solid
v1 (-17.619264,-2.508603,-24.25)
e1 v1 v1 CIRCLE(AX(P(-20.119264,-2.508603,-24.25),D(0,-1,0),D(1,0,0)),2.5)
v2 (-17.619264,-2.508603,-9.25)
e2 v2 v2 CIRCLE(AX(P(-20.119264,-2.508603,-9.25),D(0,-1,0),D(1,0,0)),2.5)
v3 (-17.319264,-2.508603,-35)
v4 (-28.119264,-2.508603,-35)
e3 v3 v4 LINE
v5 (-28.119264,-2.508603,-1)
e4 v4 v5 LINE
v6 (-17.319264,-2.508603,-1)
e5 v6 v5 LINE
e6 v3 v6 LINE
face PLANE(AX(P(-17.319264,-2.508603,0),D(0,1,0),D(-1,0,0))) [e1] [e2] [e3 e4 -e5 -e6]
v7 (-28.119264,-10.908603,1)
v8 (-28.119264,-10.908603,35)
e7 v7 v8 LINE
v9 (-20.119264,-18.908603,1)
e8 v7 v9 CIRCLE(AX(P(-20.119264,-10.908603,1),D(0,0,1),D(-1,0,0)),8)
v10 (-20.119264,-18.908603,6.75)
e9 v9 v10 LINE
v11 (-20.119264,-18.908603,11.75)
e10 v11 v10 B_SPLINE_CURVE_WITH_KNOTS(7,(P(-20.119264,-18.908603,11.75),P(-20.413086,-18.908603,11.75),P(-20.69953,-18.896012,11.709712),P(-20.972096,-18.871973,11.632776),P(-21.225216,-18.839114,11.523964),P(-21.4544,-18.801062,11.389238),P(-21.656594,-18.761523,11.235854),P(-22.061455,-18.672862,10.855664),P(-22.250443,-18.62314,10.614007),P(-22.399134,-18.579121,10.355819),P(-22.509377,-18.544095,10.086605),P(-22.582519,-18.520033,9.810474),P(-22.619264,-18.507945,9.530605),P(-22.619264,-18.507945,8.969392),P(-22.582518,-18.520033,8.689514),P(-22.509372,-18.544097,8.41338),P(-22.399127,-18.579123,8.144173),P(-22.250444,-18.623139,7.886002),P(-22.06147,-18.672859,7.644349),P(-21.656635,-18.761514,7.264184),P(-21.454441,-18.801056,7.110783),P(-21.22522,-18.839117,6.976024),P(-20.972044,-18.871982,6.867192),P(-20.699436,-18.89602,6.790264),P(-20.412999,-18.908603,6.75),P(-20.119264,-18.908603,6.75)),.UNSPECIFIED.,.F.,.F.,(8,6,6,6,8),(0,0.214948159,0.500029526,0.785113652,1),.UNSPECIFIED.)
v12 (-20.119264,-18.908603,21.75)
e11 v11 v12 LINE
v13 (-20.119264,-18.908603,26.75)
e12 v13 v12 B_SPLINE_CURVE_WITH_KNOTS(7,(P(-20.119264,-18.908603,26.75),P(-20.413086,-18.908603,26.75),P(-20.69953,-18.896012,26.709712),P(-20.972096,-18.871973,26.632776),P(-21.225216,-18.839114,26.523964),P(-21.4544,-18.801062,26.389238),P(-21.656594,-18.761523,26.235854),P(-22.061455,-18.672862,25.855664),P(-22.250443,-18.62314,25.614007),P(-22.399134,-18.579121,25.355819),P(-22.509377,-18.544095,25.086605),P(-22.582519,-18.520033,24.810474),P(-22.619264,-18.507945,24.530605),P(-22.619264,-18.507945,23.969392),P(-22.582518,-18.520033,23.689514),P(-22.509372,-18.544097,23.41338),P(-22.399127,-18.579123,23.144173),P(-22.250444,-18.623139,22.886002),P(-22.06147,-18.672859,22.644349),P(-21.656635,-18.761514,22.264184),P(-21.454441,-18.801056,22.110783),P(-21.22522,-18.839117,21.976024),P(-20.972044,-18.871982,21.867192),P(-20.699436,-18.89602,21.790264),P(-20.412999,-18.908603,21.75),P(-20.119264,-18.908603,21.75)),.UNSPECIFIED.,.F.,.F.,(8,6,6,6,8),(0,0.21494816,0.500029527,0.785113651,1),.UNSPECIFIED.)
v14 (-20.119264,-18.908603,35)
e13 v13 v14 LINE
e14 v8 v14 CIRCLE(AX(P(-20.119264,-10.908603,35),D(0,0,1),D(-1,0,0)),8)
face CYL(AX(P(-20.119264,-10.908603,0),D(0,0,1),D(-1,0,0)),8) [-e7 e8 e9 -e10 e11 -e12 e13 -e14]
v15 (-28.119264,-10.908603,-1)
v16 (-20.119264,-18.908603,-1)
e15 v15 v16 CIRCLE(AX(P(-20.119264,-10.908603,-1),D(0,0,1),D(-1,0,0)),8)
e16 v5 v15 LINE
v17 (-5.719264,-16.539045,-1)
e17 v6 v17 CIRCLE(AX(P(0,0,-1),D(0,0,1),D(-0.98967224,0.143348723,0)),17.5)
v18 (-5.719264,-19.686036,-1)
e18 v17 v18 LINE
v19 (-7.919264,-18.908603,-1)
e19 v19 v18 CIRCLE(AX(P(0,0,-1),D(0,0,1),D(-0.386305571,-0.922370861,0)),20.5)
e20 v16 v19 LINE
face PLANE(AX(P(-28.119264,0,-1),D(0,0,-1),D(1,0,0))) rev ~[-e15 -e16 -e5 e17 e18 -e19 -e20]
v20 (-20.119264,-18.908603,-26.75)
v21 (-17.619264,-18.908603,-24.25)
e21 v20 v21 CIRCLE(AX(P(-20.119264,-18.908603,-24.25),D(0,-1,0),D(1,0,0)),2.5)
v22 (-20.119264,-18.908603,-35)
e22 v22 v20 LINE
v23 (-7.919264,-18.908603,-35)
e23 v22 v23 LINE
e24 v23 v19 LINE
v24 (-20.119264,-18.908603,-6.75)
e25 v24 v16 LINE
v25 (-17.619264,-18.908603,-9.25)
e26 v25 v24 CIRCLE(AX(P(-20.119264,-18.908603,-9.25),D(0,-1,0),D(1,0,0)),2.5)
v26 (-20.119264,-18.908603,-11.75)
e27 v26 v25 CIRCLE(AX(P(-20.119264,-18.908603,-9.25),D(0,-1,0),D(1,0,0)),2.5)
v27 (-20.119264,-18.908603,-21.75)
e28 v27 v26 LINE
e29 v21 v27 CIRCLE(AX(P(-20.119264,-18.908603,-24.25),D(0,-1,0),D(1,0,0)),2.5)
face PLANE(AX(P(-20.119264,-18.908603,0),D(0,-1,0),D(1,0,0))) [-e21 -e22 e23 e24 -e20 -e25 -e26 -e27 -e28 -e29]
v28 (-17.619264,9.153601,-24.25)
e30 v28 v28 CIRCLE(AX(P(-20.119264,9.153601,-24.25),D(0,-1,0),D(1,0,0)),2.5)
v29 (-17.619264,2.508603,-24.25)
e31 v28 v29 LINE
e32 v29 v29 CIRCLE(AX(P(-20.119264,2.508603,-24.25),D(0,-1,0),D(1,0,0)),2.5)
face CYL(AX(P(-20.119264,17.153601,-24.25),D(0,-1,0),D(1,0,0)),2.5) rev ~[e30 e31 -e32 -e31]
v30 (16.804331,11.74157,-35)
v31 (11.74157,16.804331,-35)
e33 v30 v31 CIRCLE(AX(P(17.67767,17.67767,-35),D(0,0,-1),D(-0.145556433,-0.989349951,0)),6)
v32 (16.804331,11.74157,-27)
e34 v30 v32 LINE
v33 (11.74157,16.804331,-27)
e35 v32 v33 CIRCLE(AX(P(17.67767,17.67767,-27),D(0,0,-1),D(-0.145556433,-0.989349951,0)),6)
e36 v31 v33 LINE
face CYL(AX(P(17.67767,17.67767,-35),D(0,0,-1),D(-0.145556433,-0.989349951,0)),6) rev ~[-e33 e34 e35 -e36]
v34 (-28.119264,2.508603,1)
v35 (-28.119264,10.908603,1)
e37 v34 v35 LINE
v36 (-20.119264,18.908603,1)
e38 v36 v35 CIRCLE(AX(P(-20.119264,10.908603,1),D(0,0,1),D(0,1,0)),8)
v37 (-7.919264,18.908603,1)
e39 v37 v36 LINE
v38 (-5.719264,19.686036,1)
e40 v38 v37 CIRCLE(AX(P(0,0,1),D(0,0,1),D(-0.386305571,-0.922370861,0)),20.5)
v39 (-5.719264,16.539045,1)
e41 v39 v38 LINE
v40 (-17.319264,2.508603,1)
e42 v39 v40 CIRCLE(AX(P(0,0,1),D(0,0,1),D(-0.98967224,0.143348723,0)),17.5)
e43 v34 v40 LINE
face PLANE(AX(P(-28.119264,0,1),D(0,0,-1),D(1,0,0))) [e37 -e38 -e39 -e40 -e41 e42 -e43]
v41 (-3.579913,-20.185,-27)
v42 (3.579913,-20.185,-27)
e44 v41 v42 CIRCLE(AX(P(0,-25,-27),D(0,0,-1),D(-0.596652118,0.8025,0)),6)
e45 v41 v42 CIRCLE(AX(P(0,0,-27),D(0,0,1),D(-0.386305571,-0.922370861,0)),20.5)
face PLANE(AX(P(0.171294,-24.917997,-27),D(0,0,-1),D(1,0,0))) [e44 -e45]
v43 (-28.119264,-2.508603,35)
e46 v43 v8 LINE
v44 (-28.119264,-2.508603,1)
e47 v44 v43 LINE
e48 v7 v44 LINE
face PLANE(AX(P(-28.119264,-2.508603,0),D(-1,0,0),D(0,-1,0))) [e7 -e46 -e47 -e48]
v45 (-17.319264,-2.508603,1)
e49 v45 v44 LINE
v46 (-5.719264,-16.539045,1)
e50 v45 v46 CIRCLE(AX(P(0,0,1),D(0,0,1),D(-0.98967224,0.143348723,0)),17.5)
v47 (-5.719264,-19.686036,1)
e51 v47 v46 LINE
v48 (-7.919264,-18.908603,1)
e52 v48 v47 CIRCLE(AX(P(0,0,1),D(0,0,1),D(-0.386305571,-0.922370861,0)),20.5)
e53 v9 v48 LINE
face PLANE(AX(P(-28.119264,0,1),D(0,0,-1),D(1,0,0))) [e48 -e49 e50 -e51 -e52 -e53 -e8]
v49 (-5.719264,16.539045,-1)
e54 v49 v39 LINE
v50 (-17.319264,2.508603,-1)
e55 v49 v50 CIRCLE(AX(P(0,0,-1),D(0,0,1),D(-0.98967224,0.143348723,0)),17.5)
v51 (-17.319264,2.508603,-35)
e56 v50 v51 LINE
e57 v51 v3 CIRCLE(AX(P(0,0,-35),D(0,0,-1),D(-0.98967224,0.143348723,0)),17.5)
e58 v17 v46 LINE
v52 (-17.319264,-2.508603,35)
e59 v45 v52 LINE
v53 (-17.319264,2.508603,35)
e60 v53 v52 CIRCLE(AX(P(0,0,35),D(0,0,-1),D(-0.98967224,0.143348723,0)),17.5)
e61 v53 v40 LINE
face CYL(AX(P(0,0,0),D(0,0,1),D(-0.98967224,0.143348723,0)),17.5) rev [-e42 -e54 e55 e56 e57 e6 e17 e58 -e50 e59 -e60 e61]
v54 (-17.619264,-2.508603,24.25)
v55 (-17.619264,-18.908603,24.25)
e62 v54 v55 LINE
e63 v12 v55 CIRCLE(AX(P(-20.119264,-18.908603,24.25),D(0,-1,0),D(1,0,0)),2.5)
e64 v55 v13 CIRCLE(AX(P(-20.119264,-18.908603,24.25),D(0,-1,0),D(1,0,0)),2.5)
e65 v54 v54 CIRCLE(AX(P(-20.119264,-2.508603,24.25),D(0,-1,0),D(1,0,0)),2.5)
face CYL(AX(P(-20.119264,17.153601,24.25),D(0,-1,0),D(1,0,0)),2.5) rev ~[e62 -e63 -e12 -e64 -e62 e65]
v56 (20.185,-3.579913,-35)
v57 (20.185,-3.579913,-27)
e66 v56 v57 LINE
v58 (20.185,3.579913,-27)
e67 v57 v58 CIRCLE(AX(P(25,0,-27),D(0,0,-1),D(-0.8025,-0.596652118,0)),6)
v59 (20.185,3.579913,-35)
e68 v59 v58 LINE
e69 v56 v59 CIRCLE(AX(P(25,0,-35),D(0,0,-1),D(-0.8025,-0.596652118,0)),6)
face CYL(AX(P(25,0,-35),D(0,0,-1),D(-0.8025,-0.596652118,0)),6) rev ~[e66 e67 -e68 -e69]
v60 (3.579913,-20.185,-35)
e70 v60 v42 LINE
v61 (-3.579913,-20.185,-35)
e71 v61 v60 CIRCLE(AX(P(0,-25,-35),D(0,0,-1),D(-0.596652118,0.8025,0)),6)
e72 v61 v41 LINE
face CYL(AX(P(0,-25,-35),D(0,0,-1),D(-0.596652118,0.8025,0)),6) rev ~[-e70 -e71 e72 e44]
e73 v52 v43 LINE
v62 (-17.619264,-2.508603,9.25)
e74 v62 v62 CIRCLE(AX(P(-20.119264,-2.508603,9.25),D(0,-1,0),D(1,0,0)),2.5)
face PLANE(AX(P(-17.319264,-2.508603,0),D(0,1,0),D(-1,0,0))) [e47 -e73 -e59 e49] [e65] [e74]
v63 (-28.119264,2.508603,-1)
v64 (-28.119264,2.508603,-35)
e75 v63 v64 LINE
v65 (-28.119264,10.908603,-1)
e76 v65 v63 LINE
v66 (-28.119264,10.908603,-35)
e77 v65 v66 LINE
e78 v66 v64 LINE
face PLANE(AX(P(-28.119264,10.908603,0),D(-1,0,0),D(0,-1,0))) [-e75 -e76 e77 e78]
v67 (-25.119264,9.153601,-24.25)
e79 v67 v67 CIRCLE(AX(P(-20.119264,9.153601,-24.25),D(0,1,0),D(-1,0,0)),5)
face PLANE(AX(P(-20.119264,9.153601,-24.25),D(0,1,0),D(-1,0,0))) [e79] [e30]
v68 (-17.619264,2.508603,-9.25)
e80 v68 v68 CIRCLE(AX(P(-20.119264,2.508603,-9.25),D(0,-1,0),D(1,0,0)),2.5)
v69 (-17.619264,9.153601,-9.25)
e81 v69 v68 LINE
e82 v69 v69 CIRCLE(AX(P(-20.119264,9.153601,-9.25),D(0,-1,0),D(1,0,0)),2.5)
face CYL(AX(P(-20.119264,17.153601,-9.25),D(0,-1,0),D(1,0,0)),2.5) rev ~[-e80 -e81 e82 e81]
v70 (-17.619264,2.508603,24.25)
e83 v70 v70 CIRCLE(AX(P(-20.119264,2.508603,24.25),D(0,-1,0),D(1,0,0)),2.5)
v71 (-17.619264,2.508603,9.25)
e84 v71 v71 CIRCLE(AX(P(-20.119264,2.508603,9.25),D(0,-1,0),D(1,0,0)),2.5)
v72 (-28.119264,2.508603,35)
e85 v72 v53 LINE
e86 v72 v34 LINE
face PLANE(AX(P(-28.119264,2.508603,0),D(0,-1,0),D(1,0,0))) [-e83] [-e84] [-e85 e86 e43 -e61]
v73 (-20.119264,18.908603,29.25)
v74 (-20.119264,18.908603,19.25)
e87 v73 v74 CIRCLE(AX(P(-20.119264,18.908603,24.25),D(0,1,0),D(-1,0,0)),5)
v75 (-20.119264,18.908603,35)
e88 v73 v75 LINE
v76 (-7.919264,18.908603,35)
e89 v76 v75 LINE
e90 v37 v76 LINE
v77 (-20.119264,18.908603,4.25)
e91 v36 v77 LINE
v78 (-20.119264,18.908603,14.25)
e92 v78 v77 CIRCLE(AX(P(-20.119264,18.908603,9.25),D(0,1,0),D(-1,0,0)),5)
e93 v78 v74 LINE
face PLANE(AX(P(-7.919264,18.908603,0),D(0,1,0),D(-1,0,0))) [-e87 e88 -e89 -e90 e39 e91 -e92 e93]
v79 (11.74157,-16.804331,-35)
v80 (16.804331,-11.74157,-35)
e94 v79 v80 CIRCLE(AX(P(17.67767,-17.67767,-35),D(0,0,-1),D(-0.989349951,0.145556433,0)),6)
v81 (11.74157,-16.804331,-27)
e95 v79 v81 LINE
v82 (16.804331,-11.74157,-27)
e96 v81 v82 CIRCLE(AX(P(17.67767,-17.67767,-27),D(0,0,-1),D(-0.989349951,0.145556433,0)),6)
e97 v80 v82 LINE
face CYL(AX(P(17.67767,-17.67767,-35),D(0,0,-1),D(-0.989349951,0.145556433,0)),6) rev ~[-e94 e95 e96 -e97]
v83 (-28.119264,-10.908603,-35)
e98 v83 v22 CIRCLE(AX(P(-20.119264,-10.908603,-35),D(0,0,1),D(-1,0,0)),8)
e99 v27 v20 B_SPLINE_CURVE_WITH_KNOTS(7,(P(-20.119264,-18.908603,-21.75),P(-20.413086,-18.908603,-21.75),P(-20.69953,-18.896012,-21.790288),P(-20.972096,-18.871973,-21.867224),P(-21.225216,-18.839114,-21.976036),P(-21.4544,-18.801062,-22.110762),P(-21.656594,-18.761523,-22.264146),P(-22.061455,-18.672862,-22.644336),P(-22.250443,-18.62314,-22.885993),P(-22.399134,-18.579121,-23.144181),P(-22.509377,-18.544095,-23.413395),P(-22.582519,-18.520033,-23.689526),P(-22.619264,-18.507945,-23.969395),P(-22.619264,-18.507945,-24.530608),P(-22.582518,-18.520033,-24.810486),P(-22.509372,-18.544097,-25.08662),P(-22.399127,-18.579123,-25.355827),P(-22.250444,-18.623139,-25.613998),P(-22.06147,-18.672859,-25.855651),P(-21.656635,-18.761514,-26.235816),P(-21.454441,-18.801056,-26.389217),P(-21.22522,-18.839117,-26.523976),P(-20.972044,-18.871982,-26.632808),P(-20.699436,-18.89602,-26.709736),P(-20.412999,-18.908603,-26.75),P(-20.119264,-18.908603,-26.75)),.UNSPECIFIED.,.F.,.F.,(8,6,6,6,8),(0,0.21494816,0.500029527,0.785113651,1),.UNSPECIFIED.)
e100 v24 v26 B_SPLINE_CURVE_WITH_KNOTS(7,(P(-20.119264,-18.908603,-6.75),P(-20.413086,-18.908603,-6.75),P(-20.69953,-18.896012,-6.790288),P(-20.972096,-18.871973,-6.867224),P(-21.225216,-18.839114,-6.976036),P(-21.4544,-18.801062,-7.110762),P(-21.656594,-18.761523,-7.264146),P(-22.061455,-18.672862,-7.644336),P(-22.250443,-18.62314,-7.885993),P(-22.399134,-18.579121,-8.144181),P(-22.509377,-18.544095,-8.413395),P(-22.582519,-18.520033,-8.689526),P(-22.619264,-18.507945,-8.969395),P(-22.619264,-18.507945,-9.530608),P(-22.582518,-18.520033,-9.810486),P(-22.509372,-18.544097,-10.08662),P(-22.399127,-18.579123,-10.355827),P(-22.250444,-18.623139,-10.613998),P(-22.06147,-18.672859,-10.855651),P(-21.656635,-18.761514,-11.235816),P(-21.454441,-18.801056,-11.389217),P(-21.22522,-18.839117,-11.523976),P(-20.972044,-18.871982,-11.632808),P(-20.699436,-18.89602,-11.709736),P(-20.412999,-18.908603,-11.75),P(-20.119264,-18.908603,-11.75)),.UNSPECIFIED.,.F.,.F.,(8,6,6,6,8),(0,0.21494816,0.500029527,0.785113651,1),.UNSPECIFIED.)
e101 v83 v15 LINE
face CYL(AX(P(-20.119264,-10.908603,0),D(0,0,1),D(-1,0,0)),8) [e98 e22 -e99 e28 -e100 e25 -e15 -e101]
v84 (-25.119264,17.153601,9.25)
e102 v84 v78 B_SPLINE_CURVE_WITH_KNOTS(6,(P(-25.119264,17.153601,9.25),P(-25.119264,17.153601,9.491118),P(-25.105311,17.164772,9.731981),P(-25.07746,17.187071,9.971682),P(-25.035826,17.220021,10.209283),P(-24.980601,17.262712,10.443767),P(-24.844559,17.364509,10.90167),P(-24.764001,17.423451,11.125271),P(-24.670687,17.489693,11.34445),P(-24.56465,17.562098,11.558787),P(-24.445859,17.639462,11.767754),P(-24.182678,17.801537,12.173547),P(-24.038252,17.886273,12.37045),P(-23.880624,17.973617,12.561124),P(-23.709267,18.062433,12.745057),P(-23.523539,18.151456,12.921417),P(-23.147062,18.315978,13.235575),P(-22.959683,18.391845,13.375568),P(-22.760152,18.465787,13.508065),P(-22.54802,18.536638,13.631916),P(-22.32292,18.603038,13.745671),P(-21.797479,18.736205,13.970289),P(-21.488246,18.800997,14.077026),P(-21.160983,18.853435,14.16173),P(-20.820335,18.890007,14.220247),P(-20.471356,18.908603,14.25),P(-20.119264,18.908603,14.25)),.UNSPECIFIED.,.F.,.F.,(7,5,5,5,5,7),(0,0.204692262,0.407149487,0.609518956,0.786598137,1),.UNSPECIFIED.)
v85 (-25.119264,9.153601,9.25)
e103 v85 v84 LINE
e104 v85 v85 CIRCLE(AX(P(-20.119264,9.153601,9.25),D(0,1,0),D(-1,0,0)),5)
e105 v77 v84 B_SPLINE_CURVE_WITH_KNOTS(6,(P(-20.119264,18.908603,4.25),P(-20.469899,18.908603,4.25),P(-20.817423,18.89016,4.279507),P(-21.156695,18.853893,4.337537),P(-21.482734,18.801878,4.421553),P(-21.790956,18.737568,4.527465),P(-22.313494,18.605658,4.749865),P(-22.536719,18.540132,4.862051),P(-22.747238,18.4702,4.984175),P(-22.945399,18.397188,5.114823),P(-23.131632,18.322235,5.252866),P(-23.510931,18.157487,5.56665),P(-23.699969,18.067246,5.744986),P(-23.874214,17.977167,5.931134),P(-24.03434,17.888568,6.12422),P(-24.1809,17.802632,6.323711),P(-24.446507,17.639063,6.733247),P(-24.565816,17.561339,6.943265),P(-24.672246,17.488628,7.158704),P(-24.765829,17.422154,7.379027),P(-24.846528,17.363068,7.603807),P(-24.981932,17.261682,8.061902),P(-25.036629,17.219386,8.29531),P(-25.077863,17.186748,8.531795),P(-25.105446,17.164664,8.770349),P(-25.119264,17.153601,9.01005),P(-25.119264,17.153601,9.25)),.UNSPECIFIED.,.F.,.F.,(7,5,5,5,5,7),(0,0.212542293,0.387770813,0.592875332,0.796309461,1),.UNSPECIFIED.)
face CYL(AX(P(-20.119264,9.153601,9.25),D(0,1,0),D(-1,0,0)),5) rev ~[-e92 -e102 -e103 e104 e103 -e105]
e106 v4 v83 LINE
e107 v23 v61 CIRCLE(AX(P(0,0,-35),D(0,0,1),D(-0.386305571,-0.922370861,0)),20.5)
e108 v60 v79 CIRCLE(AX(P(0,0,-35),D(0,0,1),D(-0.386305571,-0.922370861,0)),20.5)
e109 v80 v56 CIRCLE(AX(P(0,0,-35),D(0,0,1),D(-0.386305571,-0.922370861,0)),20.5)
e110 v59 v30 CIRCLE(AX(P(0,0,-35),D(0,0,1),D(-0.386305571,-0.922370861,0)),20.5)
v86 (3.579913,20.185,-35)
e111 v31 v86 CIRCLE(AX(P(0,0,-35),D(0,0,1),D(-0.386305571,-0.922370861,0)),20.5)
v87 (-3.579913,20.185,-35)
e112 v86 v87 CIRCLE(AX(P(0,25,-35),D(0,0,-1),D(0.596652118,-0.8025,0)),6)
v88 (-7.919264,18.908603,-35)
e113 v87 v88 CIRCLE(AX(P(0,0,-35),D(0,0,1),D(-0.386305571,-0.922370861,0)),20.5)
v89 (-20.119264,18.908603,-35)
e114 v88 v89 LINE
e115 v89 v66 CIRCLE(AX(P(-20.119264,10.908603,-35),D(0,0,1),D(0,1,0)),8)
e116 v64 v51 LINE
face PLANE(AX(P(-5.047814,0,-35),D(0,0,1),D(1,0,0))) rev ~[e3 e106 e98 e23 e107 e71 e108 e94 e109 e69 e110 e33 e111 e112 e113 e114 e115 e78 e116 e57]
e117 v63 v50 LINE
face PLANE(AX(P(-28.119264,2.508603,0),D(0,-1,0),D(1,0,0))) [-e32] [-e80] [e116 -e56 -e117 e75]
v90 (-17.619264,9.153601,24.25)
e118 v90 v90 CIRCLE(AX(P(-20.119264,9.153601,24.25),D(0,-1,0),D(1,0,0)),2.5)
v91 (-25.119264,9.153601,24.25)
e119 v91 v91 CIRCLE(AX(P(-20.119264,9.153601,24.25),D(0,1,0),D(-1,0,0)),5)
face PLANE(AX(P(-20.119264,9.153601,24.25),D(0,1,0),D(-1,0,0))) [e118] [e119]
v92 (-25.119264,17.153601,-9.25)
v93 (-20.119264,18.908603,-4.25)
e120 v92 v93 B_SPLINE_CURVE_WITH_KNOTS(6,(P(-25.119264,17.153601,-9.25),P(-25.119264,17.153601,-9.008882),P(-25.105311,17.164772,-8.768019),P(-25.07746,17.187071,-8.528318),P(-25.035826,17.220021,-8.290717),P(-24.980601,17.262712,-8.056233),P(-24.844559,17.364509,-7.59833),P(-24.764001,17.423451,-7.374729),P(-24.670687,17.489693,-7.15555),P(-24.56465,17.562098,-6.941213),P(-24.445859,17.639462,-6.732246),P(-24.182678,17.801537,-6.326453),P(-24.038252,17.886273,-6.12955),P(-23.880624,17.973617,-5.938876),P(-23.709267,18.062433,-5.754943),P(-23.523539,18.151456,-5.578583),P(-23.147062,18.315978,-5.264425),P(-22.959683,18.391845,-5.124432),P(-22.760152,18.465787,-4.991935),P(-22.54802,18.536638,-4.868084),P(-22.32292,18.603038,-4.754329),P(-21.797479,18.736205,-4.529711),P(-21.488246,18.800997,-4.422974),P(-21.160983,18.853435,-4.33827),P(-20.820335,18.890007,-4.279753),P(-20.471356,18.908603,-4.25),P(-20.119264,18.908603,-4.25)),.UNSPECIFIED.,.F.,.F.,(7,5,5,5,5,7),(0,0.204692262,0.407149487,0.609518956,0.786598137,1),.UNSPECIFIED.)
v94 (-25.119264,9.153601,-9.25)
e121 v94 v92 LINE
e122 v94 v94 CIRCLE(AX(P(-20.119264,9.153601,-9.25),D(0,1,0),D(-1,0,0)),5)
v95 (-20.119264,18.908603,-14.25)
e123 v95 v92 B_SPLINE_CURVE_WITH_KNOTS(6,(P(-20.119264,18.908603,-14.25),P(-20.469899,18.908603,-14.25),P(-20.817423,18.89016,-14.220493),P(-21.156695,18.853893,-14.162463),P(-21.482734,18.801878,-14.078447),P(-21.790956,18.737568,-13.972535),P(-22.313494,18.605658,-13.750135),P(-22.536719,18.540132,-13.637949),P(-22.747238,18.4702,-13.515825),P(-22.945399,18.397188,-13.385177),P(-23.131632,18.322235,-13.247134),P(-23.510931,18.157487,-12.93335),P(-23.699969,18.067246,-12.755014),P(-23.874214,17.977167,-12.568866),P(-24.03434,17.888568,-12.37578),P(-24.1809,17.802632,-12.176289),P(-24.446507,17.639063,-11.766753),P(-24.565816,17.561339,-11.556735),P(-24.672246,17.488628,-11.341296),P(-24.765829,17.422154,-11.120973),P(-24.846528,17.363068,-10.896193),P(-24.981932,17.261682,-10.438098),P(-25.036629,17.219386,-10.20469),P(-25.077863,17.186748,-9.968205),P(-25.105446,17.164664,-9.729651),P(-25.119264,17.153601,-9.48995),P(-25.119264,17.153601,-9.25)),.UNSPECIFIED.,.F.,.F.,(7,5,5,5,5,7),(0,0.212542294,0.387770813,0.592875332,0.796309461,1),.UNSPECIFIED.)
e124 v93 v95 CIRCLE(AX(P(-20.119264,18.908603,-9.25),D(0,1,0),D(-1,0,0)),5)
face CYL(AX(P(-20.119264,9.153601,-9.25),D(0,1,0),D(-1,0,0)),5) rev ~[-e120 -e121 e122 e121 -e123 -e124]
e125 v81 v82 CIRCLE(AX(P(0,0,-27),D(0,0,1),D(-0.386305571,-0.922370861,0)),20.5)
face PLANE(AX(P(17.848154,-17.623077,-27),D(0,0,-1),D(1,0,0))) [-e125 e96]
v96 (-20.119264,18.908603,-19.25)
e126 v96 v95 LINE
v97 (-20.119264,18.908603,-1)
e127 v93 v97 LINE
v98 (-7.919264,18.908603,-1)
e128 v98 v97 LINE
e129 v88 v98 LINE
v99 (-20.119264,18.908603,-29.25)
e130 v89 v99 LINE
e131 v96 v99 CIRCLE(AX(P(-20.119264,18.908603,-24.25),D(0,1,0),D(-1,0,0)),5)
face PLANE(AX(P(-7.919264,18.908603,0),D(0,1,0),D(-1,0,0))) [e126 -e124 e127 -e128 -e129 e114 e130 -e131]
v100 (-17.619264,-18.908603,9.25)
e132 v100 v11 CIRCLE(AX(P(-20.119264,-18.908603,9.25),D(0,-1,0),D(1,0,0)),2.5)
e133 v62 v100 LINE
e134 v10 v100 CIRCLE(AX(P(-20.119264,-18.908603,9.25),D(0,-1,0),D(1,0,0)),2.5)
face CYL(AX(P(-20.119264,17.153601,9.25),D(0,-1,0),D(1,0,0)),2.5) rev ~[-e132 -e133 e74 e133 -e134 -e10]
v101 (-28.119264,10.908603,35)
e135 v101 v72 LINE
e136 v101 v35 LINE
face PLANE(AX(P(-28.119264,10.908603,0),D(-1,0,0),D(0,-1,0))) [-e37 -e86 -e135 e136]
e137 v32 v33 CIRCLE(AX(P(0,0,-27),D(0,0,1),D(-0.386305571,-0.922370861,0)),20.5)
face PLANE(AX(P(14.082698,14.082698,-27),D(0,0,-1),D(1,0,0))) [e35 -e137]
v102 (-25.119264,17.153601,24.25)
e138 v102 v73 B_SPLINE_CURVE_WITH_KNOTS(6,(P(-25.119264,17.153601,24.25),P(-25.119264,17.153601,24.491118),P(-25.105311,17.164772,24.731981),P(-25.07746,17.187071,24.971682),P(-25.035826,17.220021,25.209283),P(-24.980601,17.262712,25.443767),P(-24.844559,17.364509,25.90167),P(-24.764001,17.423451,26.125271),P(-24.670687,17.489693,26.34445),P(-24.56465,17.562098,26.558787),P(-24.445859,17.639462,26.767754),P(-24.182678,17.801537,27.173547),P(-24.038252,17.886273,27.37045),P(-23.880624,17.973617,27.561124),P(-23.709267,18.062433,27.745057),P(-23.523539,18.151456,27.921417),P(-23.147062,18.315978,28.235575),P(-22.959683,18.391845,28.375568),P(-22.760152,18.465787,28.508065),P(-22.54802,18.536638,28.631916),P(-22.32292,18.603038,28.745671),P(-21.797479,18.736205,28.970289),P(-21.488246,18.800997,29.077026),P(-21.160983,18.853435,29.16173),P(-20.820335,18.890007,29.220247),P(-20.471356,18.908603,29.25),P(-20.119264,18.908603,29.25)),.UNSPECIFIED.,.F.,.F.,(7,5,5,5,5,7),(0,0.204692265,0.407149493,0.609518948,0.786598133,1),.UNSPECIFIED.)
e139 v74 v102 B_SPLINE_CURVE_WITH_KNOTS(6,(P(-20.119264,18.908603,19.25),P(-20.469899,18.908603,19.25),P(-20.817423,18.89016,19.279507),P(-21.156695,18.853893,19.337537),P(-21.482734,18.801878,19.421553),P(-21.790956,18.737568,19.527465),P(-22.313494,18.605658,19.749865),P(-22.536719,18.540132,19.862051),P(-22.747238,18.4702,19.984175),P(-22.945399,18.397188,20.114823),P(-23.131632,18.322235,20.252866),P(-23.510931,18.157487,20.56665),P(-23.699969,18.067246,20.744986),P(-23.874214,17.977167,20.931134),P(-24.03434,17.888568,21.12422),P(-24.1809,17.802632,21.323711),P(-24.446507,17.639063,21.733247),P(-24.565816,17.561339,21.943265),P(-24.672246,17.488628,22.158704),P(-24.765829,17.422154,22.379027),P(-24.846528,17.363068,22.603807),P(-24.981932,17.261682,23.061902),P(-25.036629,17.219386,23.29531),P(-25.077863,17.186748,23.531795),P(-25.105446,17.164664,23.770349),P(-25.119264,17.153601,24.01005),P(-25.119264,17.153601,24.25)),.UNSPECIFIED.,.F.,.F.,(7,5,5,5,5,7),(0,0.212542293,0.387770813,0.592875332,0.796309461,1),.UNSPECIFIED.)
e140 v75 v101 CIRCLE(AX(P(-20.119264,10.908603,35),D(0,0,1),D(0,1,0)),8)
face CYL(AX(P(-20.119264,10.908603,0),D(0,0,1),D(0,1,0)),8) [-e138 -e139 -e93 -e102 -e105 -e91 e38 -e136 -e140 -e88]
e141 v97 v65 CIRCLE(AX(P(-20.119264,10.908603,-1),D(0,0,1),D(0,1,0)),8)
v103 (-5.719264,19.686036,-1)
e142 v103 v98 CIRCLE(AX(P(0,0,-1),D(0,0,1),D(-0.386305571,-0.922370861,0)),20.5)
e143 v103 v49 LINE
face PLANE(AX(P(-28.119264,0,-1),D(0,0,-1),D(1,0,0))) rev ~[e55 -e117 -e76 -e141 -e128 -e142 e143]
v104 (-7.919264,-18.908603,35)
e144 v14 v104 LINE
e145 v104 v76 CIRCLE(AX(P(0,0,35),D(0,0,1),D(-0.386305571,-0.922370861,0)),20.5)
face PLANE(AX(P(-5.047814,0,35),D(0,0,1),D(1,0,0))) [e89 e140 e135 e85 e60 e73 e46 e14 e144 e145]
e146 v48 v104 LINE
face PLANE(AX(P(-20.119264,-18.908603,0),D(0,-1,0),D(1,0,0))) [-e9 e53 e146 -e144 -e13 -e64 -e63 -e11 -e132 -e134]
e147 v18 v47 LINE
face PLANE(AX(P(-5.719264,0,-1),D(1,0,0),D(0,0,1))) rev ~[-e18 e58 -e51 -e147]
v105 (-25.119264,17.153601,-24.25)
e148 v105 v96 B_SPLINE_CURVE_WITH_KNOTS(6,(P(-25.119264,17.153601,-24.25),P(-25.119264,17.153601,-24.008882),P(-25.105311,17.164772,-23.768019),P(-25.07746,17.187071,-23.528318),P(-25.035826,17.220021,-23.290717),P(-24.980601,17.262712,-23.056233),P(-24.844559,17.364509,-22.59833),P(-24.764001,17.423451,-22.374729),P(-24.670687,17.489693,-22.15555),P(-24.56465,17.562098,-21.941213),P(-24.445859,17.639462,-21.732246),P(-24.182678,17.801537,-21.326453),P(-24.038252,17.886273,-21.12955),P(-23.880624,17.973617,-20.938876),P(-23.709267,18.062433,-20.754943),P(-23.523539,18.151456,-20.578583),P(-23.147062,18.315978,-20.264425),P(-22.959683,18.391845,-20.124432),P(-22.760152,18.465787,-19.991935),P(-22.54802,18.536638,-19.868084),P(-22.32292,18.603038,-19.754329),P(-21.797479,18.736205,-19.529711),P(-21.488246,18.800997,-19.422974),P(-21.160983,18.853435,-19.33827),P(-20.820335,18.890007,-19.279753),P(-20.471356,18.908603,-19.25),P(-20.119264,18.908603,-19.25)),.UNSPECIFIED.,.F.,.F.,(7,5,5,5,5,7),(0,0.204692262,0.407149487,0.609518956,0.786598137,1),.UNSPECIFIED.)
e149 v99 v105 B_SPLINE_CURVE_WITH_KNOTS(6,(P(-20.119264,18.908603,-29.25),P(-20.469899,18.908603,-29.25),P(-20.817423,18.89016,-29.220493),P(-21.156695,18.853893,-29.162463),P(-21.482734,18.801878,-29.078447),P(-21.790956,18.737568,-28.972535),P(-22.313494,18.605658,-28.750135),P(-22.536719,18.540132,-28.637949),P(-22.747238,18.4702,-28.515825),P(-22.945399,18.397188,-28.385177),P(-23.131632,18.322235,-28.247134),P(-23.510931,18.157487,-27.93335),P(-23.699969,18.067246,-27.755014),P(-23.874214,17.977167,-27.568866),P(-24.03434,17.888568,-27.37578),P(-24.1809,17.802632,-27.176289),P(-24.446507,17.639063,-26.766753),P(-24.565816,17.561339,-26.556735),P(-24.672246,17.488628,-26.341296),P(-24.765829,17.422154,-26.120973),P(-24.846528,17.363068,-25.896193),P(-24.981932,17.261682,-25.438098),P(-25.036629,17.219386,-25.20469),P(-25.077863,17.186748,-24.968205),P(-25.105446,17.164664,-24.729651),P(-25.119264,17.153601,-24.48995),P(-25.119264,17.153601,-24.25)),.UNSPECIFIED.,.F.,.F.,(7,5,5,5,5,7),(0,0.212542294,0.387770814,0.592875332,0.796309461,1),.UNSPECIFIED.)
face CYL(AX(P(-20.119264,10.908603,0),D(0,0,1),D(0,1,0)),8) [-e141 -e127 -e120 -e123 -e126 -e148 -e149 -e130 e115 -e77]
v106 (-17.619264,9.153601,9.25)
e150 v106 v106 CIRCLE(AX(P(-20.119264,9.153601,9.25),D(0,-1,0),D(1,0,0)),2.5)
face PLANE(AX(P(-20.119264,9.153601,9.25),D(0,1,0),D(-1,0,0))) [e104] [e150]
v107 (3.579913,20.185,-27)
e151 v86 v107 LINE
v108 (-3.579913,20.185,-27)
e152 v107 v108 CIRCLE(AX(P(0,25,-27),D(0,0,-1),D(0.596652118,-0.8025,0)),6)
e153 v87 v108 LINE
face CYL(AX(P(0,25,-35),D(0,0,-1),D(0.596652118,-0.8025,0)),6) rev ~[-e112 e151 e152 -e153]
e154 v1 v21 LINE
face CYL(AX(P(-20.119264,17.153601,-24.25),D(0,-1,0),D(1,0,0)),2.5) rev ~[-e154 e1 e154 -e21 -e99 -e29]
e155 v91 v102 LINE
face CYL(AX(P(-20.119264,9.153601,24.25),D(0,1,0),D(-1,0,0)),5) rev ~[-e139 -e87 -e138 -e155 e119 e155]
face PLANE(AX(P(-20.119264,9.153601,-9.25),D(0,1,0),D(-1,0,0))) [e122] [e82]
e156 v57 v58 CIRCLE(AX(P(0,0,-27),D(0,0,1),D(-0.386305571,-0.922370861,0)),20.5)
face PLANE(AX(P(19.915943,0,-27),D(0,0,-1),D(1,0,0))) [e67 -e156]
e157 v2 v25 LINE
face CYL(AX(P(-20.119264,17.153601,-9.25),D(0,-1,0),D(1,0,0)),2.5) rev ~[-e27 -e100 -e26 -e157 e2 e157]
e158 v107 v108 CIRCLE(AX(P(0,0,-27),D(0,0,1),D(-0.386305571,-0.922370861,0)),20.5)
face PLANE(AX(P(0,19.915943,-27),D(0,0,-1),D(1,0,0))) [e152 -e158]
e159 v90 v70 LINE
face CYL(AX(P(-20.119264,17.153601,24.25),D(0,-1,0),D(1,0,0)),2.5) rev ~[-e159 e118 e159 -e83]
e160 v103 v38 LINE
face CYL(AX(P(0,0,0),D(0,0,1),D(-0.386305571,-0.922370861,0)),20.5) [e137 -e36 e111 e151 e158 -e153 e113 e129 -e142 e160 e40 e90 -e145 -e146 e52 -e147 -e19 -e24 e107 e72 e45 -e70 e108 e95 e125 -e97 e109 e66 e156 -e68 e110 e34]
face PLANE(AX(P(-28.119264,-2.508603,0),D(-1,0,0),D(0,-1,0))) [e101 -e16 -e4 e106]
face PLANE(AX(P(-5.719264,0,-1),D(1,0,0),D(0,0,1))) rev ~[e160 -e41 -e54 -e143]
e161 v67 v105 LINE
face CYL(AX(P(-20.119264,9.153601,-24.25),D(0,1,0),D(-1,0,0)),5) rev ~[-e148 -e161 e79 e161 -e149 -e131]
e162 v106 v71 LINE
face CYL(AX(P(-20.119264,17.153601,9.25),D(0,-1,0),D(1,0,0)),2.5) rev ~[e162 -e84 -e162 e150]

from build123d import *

# Parameters (mm, degrees)
F1_DEPTH       = 35
F3_D           = 5
F3_START       = 1.7550021
F3_CBORE_D     = 10
F3_CBORE_DEPTH = 8
F4_W           = 22.4
F4_H           = 2
F5_DEPTH       = 25
F7_DEPTH       = 8


with BuildPart() as f1:
    # F0 (on Top) → F1 (new body, symmetric)
    with BuildSketch(Plane.XY):
        with BuildLine():
            ThreePointArc((-17.3192642082, 2.5086026559), (17.5, 0), (-17.3192642082, -2.5086026559))
            Line((-17.3192642082, -2.5086026559), (-28.1192642082, -2.5086026559))
            Line((-28.1192642082, -2.5086026559), (-28.1192642082, -10.9086026559))
            ThreePointArc((-28.1192642082, -10.9086026559), (-25.7761184577, -16.5654569054), (-20.1192642082, -18.9086026559))
            Line((-20.1192642082, -18.9086026559), (-7.9192642082, -18.9086026559))
            ThreePointArc((-7.9192642082, -18.9086026559), (20.5, 0), (-7.9192642082, 18.9086026559))
            Line((-7.9192642082, 18.9086026559), (-20.1192642082, 18.9086026559))
            ThreePointArc((-20.1192642082, 18.9086026559), (-25.7761184577, 16.5654569054), (-28.1192642082, 10.9086026559))
            Line((-28.1192642082, 10.9086026559), (-28.1192642082, 2.5086026559))
            Line((-28.1192642082, 2.5086026559), (-17.3192642082, 2.5086026559))
        make_face()
    extrude(amount=F1_DEPTH, both=True)

    # F3 (through all)
    # its depths count from where the whole tool has entered the part; down to there all is cleared
    with Locations(Plane(origin=(0, 18.9086026559, 0), x_dir=(-1, 0, 0), z_dir=(0, 1, 0)).offset(-F3_START)):
        with Locations((20.1192642082, -24.25), (20.1192642082, -9.25), (20.1192642082, 9.25), (20.1192642082, 24.25)):
            CounterBoreHole(F3_D / 2, F3_CBORE_D / 2, F3_CBORE_DEPTH)

    # F4 (on Front) → F5 (cut, symmetric)
    with BuildSketch(Plane.XZ):
        with Locations((-16.9192642082, 0)):
            Rectangle(F4_W, F4_H)
    extrude(amount=F5_DEPTH, both=True, mode=Mode.SUBTRACT)

    # F6 (on face) → F7 (cut)
    with BuildSketch(Plane(origin=(0, 0, -35), x_dir=(1, 0, 0), z_dir=(0, 0, -1))):
        with BuildLine():
            ThreePointArc((-3.5799127084, 20.185), (0, 20.5), (3.5799127084, 20.185))
            ThreePointArc((3.5799127084, 20.185), (5.3609456372, 22.305512688), (6, 25))
            ThreePointArc((6, 25), (-2.694487312, 30.3609456372), (-3.5799127084, 20.185))
        make_face()
        with BuildLine():
            ThreePointArc((11.7415698261, 16.8043309304), (14.4956890143, 14.4956890143), (16.8043309304, 11.7415698261))
            ThreePointArc((16.8043309304, 11.7415698261), (21.5994018258, 13.1367427743), (23.6776695297, 17.6776695297))
            ThreePointArc((23.6776695297, 17.6776695297), (17.2398329286, 23.6616731318), (11.7415698261, 16.8043309304))
        make_face()
        with BuildLine():
            ThreePointArc((20.185, 3.5799127084), (19, 0), (20.185, -3.5799127084))
            ThreePointArc((20.185, -3.5799127084), (20.5, 0), (20.185, 3.5799127084))
        make_face()
        with BuildLine():
            ThreePointArc((16.8043309304, -11.7415698261), (13.4350288425, -13.4350288425), (11.7415698261, -16.8043309304))
            ThreePointArc((11.7415698261, -16.8043309304), (14.4956890143, -14.4956890143), (16.8043309304, -11.7415698261))
        make_face()
        with BuildLine():
            ThreePointArc((-3.5799127084, -20.185), (0, -20.5), (3.5799127084, -20.185))
            ThreePointArc((3.5799127084, -20.185), (0, -19), (-3.5799127084, -20.185))
        make_face()
        with BuildLine():
            ThreePointArc((-3.5799127084, 20.185), (0, 19), (3.5799127084, 20.185))
            ThreePointArc((3.5799127084, 20.185), (0, 20.5), (-3.5799127084, 20.185))
        make_face()
        with BuildLine():
            ThreePointArc((11.7415698261, 16.8043309304), (13.4350288425, 13.4350288425), (16.8043309304, 11.7415698261))
            ThreePointArc((16.8043309304, 11.7415698261), (14.4956890143, 14.4956890143), (11.7415698261, 16.8043309304))
        make_face()
        with BuildLine():
            ThreePointArc((20.185, 3.5799127084), (20.5, 0), (20.185, -3.5799127084))
            ThreePointArc((20.185, -3.5799127084), (26.8854707635, -5.6960512638), (31, 0))
            ThreePointArc((31, 0), (26.8854707635, 5.6960512638), (20.185, 3.5799127084))
        make_face()
        with BuildLine():
            ThreePointArc((16.8043309304, -11.7415698261), (14.4956890143, -14.4956890143), (11.7415698261, -16.8043309304))
            ThreePointArc((11.7415698261, -16.8043309304), (17.2398329286, -23.6616731318), (23.6776695297, -17.6776695297))
            ThreePointArc((23.6776695297, -17.6776695297), (21.5994018258, -13.1367427743), (16.8043309304, -11.7415698261))
        make_face()
        with BuildLine():
            ThreePointArc((-3.5799127084, -20.185), (-2.694487312, -30.3609456372), (6, -25))
            ThreePointArc((6, -25), (5.3609456372, -22.305512688), (3.5799127084, -20.185))
            ThreePointArc((3.5799127084, -20.185), (0, -20.5), (-3.5799127084, -20.185))
        make_face()
    extrude(amount=-F7_DEPTH, mode=Mode.SUBTRACT)


solid = f1.part
